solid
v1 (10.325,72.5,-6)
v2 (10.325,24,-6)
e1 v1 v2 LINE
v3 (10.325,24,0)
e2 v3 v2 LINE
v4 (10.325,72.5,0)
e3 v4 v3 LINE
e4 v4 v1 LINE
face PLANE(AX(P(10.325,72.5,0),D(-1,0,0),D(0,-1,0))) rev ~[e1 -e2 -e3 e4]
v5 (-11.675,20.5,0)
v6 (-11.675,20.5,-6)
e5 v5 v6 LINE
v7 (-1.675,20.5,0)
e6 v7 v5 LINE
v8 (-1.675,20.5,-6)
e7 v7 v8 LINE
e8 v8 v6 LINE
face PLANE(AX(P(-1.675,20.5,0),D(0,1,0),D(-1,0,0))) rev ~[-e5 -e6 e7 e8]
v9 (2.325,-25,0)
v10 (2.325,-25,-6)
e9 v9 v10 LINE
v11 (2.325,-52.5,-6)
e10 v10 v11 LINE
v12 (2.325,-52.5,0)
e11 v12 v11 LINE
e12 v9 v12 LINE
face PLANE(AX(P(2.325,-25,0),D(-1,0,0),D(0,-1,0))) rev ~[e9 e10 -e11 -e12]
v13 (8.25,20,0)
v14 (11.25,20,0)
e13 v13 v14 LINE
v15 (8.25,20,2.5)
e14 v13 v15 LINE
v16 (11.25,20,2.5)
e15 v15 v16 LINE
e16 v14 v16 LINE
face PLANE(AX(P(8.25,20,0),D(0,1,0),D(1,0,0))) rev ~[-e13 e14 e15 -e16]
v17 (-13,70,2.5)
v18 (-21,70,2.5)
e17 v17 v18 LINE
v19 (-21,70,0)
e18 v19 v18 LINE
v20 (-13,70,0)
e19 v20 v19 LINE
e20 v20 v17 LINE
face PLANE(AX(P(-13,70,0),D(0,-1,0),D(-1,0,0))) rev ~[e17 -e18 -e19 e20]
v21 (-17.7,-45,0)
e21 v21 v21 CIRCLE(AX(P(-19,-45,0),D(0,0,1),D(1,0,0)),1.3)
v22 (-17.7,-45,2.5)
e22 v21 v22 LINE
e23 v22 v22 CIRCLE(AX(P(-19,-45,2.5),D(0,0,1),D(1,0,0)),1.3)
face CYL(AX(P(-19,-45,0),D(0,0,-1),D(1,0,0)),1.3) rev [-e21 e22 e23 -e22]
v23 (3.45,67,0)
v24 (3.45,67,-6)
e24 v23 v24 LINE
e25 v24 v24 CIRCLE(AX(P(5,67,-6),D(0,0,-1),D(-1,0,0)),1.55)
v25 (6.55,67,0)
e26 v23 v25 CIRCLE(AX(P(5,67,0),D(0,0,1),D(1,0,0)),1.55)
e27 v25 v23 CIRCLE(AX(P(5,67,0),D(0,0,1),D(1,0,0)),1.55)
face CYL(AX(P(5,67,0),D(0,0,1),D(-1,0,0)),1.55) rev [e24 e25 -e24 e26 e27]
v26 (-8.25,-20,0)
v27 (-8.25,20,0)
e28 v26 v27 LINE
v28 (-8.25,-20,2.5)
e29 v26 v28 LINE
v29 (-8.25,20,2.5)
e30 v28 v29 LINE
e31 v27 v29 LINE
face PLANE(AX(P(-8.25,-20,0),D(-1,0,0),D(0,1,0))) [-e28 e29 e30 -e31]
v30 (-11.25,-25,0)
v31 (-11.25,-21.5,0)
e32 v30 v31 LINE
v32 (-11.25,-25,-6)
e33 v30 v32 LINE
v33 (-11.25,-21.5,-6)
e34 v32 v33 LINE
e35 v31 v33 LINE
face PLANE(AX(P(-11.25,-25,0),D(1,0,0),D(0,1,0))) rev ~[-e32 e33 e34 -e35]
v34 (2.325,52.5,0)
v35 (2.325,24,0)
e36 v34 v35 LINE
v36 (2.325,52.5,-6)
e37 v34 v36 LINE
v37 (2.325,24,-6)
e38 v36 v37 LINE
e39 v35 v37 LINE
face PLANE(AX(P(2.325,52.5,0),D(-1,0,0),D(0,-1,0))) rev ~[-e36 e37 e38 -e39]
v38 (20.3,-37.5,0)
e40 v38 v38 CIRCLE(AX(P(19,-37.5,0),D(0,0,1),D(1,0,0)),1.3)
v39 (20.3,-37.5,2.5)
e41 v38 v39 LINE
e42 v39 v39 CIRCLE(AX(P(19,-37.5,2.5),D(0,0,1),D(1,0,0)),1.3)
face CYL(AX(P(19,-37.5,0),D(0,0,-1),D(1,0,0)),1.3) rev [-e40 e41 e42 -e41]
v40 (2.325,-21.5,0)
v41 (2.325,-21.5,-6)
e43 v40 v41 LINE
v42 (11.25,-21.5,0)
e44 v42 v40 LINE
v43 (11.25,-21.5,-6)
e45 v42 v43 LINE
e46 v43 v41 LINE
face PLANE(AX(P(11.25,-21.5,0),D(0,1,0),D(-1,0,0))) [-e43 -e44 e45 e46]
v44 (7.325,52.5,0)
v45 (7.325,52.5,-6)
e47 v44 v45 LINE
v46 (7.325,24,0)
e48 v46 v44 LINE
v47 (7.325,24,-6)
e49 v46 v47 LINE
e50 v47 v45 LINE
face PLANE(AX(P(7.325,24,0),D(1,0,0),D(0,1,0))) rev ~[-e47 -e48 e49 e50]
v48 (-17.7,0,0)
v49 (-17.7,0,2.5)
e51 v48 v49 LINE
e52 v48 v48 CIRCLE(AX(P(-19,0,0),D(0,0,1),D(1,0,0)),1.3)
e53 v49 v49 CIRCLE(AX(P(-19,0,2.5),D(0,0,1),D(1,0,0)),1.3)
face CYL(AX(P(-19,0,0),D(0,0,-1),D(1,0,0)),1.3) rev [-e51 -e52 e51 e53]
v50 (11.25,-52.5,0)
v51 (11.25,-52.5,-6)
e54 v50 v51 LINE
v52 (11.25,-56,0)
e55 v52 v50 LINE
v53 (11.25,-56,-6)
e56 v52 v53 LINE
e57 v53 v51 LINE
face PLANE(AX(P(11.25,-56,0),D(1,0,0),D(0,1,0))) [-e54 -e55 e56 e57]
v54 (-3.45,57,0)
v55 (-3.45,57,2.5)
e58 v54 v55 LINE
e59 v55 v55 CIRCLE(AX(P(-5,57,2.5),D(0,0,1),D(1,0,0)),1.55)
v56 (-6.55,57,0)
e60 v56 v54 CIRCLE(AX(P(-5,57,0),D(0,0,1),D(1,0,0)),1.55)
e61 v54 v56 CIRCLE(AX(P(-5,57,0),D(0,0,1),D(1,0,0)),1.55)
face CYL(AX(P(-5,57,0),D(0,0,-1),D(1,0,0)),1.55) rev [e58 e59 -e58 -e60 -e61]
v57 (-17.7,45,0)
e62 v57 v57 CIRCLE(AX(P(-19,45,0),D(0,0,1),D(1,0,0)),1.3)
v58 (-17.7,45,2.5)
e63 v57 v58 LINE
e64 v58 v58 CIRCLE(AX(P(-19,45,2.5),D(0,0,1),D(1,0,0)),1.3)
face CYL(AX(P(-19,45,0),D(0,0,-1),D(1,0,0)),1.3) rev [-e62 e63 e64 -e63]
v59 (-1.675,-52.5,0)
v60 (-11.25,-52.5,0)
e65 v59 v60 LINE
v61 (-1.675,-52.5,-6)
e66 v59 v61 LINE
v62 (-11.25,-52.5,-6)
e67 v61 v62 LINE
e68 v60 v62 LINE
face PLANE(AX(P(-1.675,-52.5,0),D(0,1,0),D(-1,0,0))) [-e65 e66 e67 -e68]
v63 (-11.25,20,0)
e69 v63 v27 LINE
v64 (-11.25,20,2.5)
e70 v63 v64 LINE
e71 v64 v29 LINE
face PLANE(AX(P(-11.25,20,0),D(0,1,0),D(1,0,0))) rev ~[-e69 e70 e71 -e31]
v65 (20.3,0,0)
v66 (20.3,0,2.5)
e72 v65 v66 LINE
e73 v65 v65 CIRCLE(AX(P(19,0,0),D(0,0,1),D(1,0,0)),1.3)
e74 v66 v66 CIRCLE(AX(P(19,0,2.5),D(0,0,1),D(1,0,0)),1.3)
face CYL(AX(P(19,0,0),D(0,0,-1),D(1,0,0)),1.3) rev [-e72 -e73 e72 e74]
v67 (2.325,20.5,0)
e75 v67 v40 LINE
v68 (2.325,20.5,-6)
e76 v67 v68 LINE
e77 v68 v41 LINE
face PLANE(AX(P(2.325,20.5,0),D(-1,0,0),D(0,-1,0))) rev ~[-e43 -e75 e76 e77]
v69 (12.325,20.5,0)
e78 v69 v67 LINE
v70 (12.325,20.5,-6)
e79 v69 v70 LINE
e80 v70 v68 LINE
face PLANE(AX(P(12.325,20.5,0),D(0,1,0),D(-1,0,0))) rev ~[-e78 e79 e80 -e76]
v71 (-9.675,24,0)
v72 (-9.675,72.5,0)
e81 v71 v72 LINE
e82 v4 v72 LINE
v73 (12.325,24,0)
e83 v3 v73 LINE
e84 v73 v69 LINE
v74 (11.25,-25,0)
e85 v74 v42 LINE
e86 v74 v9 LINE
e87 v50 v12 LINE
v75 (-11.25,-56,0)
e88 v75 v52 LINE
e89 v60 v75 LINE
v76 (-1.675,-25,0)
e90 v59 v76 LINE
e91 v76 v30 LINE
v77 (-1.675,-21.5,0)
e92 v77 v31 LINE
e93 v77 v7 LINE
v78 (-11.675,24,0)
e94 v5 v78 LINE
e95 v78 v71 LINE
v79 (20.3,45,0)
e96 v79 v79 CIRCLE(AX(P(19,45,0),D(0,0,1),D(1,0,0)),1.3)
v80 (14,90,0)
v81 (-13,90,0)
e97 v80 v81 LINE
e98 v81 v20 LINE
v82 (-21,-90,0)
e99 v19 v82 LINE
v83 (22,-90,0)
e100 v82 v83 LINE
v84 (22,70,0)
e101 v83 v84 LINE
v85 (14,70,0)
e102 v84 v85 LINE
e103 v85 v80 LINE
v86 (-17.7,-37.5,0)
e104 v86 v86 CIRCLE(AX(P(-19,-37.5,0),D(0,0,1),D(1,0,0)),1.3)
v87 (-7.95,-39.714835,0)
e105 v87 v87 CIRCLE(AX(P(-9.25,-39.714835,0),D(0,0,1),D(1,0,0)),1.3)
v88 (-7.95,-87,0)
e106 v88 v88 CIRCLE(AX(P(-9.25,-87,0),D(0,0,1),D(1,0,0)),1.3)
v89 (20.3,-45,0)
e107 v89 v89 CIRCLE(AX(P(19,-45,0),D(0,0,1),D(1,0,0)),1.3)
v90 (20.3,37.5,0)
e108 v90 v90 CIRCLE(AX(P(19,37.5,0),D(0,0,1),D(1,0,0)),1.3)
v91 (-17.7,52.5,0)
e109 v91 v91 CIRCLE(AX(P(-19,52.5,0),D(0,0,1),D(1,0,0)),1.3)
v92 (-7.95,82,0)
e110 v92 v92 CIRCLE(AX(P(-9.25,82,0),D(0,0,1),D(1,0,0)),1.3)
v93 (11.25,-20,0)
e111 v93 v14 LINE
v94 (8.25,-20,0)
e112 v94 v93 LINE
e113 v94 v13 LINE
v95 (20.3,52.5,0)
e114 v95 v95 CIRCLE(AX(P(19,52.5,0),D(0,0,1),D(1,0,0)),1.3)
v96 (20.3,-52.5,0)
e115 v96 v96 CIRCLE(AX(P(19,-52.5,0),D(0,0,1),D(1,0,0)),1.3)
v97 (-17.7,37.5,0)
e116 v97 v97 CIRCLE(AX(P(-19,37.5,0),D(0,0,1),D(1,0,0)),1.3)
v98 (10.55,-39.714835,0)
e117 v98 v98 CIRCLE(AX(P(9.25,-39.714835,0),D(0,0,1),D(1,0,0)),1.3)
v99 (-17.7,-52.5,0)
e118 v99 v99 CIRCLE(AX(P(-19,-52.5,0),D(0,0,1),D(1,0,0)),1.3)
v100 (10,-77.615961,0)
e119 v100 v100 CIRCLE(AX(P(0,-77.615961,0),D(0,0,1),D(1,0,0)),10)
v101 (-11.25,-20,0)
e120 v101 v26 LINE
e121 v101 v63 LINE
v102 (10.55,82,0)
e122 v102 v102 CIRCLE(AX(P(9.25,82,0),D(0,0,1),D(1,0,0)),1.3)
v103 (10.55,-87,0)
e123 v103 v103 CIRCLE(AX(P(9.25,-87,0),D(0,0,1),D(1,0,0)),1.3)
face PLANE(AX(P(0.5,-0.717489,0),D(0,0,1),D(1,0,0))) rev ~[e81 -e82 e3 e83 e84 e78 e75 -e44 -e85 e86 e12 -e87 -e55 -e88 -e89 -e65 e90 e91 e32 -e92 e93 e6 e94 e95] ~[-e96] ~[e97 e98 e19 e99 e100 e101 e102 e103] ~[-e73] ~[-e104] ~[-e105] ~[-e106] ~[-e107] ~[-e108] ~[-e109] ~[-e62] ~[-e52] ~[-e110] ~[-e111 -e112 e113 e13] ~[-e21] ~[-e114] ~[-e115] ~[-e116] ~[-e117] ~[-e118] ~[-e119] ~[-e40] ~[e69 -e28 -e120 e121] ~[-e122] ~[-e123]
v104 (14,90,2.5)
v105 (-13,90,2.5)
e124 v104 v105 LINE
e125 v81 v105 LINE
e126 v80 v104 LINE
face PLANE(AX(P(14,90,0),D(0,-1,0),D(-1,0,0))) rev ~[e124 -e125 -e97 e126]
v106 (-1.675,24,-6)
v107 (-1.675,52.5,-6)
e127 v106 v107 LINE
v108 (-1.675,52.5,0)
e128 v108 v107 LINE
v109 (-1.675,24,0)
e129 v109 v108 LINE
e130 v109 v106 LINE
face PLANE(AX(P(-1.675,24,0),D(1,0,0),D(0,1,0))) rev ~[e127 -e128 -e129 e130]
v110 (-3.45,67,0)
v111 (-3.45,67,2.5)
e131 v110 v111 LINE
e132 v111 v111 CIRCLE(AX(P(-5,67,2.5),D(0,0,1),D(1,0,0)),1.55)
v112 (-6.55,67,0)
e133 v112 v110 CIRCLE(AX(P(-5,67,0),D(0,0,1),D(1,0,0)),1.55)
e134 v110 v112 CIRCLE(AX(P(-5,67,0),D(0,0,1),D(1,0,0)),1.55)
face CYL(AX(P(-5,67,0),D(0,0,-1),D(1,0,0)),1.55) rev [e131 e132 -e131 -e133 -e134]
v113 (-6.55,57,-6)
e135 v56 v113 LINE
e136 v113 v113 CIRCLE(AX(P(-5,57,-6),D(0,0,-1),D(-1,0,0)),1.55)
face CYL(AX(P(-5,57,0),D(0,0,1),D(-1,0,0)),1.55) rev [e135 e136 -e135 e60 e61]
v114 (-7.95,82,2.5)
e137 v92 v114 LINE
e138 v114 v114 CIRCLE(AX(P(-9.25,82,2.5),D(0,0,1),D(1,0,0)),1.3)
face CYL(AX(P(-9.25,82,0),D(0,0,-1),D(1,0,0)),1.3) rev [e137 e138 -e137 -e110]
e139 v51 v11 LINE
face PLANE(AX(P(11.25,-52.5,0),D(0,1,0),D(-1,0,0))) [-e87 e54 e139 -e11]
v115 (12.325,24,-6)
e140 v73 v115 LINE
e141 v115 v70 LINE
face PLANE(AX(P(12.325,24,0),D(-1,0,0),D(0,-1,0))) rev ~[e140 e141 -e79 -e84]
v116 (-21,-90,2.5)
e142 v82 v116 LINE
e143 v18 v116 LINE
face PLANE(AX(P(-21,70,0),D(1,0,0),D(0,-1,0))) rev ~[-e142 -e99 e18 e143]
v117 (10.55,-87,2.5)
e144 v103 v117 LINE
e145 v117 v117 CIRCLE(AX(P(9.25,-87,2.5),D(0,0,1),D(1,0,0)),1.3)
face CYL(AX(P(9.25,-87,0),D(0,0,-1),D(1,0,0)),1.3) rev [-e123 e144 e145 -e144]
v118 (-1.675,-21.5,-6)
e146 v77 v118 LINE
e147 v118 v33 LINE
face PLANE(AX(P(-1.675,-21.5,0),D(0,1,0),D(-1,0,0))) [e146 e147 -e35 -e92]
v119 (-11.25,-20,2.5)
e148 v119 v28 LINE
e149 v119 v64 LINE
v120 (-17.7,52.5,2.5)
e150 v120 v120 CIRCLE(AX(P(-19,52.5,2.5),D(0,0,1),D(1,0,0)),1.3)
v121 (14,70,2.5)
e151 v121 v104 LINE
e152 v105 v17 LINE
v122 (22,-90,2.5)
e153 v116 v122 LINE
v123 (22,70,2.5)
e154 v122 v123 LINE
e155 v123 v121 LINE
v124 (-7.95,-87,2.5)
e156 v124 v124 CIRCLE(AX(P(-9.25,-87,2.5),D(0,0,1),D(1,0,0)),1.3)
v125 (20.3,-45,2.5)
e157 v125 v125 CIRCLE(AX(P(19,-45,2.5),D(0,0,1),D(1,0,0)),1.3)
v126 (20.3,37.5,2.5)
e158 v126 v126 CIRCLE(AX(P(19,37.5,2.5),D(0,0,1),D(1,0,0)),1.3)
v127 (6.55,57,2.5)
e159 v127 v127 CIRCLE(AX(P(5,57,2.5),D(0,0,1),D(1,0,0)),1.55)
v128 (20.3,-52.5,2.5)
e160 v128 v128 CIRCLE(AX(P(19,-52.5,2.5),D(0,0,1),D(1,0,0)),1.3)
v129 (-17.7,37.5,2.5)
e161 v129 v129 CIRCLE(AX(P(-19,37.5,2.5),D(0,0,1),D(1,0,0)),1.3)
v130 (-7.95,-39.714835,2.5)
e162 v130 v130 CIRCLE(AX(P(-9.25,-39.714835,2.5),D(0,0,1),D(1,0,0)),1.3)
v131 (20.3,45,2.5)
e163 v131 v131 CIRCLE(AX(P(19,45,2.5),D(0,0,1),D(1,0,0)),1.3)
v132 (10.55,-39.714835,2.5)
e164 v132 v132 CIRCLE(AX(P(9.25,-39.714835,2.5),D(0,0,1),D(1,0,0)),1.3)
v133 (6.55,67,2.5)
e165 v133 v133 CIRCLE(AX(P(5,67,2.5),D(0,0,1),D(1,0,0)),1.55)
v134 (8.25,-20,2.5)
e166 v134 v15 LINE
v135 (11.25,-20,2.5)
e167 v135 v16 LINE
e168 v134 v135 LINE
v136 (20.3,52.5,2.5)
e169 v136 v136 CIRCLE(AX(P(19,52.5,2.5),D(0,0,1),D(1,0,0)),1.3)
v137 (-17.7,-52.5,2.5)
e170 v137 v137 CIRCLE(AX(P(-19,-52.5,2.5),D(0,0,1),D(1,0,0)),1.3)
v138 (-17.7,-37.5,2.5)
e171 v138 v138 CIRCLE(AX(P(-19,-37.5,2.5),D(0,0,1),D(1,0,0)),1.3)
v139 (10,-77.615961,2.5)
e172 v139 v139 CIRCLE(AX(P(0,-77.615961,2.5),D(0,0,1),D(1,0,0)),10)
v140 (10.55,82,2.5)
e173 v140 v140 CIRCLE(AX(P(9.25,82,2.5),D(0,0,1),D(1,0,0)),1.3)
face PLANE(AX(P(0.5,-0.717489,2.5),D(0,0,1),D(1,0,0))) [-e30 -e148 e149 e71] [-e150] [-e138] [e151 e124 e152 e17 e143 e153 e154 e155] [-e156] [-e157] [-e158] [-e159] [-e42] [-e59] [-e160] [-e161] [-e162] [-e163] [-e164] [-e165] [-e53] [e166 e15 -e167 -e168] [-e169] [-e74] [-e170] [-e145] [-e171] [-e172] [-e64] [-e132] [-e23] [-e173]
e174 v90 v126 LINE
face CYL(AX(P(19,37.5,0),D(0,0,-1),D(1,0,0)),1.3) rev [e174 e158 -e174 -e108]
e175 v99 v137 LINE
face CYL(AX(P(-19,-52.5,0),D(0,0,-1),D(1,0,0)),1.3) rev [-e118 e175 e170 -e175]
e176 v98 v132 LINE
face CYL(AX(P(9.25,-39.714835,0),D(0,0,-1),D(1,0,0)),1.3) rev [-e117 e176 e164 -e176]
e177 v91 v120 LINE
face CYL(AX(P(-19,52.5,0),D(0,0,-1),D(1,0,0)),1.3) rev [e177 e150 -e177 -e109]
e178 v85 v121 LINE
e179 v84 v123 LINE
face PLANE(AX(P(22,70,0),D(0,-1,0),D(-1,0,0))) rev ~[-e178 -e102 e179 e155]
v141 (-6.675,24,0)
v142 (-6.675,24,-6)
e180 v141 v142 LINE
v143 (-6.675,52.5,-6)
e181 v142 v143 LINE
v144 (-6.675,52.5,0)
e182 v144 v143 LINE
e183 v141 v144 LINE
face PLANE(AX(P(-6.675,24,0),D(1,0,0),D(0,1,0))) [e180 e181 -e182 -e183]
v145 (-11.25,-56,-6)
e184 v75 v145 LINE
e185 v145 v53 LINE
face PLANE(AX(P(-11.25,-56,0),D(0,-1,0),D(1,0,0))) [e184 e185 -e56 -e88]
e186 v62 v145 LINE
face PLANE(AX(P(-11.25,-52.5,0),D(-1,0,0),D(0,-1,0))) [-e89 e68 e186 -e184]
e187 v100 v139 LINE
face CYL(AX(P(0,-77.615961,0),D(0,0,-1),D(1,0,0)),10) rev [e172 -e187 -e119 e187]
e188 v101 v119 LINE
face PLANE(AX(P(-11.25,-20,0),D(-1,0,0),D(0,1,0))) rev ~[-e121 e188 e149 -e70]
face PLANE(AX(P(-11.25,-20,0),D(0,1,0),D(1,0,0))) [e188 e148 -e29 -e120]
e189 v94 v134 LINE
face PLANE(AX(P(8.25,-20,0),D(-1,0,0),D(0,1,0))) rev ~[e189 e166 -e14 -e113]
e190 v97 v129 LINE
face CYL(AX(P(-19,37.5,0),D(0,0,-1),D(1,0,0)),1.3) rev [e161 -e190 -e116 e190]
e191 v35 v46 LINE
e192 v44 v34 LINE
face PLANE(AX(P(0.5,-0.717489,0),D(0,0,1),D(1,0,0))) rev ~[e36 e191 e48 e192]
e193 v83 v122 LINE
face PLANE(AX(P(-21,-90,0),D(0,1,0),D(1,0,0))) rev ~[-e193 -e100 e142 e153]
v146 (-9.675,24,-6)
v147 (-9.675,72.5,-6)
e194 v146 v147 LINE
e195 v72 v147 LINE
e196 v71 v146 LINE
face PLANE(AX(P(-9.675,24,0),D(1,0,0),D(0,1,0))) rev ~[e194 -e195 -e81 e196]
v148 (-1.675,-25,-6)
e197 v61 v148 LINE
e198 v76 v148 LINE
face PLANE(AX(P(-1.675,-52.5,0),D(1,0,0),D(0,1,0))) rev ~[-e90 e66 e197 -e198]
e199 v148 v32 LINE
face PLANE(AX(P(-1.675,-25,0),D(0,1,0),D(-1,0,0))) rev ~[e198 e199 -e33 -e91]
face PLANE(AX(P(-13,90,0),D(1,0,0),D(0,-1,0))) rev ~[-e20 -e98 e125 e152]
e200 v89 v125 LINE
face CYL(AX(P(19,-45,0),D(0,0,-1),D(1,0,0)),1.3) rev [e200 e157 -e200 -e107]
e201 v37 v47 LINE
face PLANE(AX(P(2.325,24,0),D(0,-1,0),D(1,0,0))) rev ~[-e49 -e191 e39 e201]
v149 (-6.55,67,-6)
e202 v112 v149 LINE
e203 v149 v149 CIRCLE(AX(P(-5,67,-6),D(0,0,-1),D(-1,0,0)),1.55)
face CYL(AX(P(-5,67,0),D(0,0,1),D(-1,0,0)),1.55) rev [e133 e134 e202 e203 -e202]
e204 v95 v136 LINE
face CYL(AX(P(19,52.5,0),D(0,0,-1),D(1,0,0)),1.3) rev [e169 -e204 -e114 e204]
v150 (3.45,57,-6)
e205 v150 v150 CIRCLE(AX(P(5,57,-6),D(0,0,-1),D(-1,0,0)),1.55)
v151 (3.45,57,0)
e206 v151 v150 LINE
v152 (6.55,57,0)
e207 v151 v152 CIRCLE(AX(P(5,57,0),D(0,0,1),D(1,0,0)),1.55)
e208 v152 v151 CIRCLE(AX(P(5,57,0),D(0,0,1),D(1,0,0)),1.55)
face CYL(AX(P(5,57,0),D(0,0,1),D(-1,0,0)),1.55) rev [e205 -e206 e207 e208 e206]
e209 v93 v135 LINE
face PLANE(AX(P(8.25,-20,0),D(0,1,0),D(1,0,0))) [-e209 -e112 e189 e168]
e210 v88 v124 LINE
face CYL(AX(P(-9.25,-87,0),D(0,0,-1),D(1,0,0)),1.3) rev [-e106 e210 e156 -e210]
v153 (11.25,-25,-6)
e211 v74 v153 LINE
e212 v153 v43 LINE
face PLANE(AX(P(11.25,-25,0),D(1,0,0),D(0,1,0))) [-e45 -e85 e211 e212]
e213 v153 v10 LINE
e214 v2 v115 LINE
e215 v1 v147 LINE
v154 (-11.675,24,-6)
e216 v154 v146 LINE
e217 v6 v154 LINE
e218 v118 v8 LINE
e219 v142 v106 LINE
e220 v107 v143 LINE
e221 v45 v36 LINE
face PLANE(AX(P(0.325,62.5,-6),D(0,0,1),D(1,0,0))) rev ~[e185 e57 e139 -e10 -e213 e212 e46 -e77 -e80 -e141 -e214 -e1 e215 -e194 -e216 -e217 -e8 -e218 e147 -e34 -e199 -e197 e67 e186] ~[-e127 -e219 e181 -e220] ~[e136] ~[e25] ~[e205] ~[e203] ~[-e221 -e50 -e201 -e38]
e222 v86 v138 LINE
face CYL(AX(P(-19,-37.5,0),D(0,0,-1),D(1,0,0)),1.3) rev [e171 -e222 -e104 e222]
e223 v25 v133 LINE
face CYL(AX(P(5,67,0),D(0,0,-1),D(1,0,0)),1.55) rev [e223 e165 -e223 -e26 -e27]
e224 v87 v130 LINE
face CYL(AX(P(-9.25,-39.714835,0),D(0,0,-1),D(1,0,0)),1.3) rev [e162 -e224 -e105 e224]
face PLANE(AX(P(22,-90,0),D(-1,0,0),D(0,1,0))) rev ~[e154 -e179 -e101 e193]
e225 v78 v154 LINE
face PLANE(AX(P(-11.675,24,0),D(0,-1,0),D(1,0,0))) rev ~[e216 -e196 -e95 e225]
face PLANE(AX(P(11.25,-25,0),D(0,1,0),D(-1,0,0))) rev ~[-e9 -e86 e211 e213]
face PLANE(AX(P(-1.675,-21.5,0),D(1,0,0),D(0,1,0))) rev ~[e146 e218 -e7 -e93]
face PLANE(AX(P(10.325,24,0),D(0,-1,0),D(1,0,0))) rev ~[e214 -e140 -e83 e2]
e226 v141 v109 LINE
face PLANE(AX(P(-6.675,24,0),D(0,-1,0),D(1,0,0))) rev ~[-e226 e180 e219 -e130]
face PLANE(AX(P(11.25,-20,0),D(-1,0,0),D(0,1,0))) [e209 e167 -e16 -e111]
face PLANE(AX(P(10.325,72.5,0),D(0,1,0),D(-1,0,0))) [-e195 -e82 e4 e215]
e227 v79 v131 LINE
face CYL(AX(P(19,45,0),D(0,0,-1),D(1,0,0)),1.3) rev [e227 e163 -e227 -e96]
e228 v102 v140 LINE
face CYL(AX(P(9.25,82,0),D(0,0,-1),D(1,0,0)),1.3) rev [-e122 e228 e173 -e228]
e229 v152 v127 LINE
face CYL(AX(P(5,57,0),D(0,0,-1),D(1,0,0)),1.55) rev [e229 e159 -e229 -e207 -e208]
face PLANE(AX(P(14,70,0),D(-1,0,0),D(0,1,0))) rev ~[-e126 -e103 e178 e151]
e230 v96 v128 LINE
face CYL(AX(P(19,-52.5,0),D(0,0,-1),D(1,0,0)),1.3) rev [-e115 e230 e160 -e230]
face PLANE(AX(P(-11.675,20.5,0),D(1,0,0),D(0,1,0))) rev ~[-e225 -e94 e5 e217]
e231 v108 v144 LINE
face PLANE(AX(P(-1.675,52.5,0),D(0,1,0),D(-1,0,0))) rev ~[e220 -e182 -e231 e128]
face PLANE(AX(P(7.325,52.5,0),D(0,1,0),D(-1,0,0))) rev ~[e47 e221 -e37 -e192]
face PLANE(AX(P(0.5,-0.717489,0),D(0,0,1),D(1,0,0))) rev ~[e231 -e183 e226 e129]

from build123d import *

# Parameters (mm, degrees)
SKETCH_1_R      = 1.3
SKETCH_1_R_2    = 10
SKETCH_1_W      = 3
SKETCH_1_H      = 40
SKETCH_1_R_3    = 1.55
EXTRUDE_1_DEPTH = 2.5
SKETCH_2_R      = 1.55
SKETCH_2_W      = 3
SKETCH_2_H      = 28.5
SKETCH_2_W_2    = 4
SKETCH_2_H_2    = 27.5
SKETCH_2_W_3    = 9.575
SKETCH_2_H_3    = 3.5
SKETCH_2_W_4    = 8.925
EXTRUDE_2_DEPTH = 6


with BuildPart() as part:
    # 草图1 → 凸台-拉伸1 (new body)
    with BuildSketch(Plane.XY):
        Polygon((22, -90), (22, 70), (14, 70), (14, 90), (-13, 90), (-13, 70), (-21, 70), (-21, -90), (-16, -90), (-2.5, -90), (2.5, -90), (16, -90), align=None)
        with Locations((-19, -52.5)):
            Circle(SKETCH_1_R, mode=Mode.SUBTRACT)
        with Locations((-9.25, -87)):
            Circle(SKETCH_1_R, mode=Mode.SUBTRACT)
        with Locations((0, -77.615961472)):
            Circle(SKETCH_1_R_2, mode=Mode.SUBTRACT)
        with Locations((-19, -45)):
            Circle(SKETCH_1_R, mode=Mode.SUBTRACT)
        with Locations((-19, -37.5)):
            Circle(SKETCH_1_R, mode=Mode.SUBTRACT)
        with Locations((-9.25, -39.714835276)):
            Circle(SKETCH_1_R, mode=Mode.SUBTRACT)
        with Locations((9.25, -87)):
            Circle(SKETCH_1_R, mode=Mode.SUBTRACT)
        with Locations((19, -52.5)):
            Circle(SKETCH_1_R, mode=Mode.SUBTRACT)
        with Locations((9.25, -39.714835276)):
            Circle(SKETCH_1_R, mode=Mode.SUBTRACT)
        with Locations((19, -45)):
            Circle(SKETCH_1_R, mode=Mode.SUBTRACT)
        with Locations((19, -37.5)):
            Circle(SKETCH_1_R, mode=Mode.SUBTRACT)
        with Locations((-19, 0)):
            Circle(SKETCH_1_R, mode=Mode.SUBTRACT)
        with Locations((-19, 37.5)):
            Circle(SKETCH_1_R, mode=Mode.SUBTRACT)
        with Locations((-9.75, 0)):
            Rectangle(SKETCH_1_W, SKETCH_1_H, mode=Mode.SUBTRACT)
        with Locations((-19, 45)):
            Circle(SKETCH_1_R, mode=Mode.SUBTRACT)
        with Locations((-19, 52.5)):
            Circle(SKETCH_1_R, mode=Mode.SUBTRACT)
        with Locations((-5, 57)):
            Circle(SKETCH_1_R_3, mode=Mode.SUBTRACT)
        with Locations((-5, 67)):
            Circle(SKETCH_1_R_3, mode=Mode.SUBTRACT)
        with Locations((-9.25, 82)):
            Circle(SKETCH_1_R, mode=Mode.SUBTRACT)
        with Locations((9.75, 0)):
            Rectangle(SKETCH_1_W, SKETCH_1_H, mode=Mode.SUBTRACT)
        with Locations((19, 0)):
            Circle(SKETCH_1_R, mode=Mode.SUBTRACT)
        with Locations((19, 37.5)):
            Circle(SKETCH_1_R, mode=Mode.SUBTRACT)
        with Locations((5, 57)):
            Circle(SKETCH_1_R_3, mode=Mode.SUBTRACT)
        with Locations((5, 67)):
            Circle(SKETCH_1_R_3, mode=Mode.SUBTRACT)
        with Locations((9.25, 82)):
            Circle(SKETCH_1_R, mode=Mode.SUBTRACT)
        with Locations((19, 45)):
            Circle(SKETCH_1_R, mode=Mode.SUBTRACT)
        with Locations((19, 52.5)):
            Circle(SKETCH_1_R, mode=Mode.SUBTRACT)
    extrude(amount=EXTRUDE_1_DEPTH)

    # 草图2 → 凸台-拉伸2 (add)
    with BuildSketch(Plane(origin=(0, 0, 0), x_dir=(-1, 0, 0), z_dir=(0, 0, -1))):
        Polygon((9.675, 72.5), (9.675, 52.5), (1.675, 52.5), (-0.325, 52.5), (-2.325, 52.5), (-10.325, 52.5), (-10.325, 72.5), align=None)
        with Locations((-5, 57)):
            Circle(SKETCH_2_R, mode=Mode.SUBTRACT)
        with Locations((5, 67)):
            Circle(SKETCH_2_R, mode=Mode.SUBTRACT)
        with Locations((-5, 67)):
            Circle(SKETCH_2_R, mode=Mode.SUBTRACT)
        with Locations((5, 57)):
            Circle(SKETCH_2_R, mode=Mode.SUBTRACT)
        with Locations((8.175, 38.25)):
            Rectangle(SKETCH_2_W, SKETCH_2_H)
        Polygon((-2.325, 20.5), (1.675, 20.5), (1.675, 24), (1.675, 32.5), (1.675, 52.5), (-0.325, 52.5), (-2.325, 52.5), (-2.325, 32.5), (-2.325, 24), align=None)
        with Locations((-8.825, 38.25)):
            Rectangle(SKETCH_2_W, SKETCH_2_H)
        Polygon((-12.325, 20.5), (-2.325, 20.5), (-2.325, 24), (-7.325, 24), (-10.325, 24), (-12.325, 24), align=None)
        Polygon((1.675, 24), (1.675, 20.5), (11.675, 20.5), (11.675, 24), (9.675, 24), (6.675, 24), align=None)
        Polygon((-2.325, 20), (-2.325, -21.5), (1.675, -21.5), (1.675, 20.5), (-2.325, 20.5), align=None)
        with Locations((-0.325, -38.75)):
            Rectangle(SKETCH_2_W_2, SKETCH_2_H_2)
        with Locations((6.4625, -23.25)):
            Rectangle(SKETCH_2_W_3, SKETCH_2_H_3)
        with Locations((-0.325, -23.25)):
            Rectangle(SKETCH_2_W_2, SKETCH_2_H_3)
        with Locations((-6.7875, -23.25)):
            Rectangle(SKETCH_2_W_4, SKETCH_2_H_3)
        Polygon((-11.25, -52.5), (-2.325, -52.5), (1.675, -52.5), (11.25, -52.5), (11.25, -56), (-11.25, -56), align=None)
    extrude(amount=EXTRUDE_2_DEPTH)


solid = part.part
